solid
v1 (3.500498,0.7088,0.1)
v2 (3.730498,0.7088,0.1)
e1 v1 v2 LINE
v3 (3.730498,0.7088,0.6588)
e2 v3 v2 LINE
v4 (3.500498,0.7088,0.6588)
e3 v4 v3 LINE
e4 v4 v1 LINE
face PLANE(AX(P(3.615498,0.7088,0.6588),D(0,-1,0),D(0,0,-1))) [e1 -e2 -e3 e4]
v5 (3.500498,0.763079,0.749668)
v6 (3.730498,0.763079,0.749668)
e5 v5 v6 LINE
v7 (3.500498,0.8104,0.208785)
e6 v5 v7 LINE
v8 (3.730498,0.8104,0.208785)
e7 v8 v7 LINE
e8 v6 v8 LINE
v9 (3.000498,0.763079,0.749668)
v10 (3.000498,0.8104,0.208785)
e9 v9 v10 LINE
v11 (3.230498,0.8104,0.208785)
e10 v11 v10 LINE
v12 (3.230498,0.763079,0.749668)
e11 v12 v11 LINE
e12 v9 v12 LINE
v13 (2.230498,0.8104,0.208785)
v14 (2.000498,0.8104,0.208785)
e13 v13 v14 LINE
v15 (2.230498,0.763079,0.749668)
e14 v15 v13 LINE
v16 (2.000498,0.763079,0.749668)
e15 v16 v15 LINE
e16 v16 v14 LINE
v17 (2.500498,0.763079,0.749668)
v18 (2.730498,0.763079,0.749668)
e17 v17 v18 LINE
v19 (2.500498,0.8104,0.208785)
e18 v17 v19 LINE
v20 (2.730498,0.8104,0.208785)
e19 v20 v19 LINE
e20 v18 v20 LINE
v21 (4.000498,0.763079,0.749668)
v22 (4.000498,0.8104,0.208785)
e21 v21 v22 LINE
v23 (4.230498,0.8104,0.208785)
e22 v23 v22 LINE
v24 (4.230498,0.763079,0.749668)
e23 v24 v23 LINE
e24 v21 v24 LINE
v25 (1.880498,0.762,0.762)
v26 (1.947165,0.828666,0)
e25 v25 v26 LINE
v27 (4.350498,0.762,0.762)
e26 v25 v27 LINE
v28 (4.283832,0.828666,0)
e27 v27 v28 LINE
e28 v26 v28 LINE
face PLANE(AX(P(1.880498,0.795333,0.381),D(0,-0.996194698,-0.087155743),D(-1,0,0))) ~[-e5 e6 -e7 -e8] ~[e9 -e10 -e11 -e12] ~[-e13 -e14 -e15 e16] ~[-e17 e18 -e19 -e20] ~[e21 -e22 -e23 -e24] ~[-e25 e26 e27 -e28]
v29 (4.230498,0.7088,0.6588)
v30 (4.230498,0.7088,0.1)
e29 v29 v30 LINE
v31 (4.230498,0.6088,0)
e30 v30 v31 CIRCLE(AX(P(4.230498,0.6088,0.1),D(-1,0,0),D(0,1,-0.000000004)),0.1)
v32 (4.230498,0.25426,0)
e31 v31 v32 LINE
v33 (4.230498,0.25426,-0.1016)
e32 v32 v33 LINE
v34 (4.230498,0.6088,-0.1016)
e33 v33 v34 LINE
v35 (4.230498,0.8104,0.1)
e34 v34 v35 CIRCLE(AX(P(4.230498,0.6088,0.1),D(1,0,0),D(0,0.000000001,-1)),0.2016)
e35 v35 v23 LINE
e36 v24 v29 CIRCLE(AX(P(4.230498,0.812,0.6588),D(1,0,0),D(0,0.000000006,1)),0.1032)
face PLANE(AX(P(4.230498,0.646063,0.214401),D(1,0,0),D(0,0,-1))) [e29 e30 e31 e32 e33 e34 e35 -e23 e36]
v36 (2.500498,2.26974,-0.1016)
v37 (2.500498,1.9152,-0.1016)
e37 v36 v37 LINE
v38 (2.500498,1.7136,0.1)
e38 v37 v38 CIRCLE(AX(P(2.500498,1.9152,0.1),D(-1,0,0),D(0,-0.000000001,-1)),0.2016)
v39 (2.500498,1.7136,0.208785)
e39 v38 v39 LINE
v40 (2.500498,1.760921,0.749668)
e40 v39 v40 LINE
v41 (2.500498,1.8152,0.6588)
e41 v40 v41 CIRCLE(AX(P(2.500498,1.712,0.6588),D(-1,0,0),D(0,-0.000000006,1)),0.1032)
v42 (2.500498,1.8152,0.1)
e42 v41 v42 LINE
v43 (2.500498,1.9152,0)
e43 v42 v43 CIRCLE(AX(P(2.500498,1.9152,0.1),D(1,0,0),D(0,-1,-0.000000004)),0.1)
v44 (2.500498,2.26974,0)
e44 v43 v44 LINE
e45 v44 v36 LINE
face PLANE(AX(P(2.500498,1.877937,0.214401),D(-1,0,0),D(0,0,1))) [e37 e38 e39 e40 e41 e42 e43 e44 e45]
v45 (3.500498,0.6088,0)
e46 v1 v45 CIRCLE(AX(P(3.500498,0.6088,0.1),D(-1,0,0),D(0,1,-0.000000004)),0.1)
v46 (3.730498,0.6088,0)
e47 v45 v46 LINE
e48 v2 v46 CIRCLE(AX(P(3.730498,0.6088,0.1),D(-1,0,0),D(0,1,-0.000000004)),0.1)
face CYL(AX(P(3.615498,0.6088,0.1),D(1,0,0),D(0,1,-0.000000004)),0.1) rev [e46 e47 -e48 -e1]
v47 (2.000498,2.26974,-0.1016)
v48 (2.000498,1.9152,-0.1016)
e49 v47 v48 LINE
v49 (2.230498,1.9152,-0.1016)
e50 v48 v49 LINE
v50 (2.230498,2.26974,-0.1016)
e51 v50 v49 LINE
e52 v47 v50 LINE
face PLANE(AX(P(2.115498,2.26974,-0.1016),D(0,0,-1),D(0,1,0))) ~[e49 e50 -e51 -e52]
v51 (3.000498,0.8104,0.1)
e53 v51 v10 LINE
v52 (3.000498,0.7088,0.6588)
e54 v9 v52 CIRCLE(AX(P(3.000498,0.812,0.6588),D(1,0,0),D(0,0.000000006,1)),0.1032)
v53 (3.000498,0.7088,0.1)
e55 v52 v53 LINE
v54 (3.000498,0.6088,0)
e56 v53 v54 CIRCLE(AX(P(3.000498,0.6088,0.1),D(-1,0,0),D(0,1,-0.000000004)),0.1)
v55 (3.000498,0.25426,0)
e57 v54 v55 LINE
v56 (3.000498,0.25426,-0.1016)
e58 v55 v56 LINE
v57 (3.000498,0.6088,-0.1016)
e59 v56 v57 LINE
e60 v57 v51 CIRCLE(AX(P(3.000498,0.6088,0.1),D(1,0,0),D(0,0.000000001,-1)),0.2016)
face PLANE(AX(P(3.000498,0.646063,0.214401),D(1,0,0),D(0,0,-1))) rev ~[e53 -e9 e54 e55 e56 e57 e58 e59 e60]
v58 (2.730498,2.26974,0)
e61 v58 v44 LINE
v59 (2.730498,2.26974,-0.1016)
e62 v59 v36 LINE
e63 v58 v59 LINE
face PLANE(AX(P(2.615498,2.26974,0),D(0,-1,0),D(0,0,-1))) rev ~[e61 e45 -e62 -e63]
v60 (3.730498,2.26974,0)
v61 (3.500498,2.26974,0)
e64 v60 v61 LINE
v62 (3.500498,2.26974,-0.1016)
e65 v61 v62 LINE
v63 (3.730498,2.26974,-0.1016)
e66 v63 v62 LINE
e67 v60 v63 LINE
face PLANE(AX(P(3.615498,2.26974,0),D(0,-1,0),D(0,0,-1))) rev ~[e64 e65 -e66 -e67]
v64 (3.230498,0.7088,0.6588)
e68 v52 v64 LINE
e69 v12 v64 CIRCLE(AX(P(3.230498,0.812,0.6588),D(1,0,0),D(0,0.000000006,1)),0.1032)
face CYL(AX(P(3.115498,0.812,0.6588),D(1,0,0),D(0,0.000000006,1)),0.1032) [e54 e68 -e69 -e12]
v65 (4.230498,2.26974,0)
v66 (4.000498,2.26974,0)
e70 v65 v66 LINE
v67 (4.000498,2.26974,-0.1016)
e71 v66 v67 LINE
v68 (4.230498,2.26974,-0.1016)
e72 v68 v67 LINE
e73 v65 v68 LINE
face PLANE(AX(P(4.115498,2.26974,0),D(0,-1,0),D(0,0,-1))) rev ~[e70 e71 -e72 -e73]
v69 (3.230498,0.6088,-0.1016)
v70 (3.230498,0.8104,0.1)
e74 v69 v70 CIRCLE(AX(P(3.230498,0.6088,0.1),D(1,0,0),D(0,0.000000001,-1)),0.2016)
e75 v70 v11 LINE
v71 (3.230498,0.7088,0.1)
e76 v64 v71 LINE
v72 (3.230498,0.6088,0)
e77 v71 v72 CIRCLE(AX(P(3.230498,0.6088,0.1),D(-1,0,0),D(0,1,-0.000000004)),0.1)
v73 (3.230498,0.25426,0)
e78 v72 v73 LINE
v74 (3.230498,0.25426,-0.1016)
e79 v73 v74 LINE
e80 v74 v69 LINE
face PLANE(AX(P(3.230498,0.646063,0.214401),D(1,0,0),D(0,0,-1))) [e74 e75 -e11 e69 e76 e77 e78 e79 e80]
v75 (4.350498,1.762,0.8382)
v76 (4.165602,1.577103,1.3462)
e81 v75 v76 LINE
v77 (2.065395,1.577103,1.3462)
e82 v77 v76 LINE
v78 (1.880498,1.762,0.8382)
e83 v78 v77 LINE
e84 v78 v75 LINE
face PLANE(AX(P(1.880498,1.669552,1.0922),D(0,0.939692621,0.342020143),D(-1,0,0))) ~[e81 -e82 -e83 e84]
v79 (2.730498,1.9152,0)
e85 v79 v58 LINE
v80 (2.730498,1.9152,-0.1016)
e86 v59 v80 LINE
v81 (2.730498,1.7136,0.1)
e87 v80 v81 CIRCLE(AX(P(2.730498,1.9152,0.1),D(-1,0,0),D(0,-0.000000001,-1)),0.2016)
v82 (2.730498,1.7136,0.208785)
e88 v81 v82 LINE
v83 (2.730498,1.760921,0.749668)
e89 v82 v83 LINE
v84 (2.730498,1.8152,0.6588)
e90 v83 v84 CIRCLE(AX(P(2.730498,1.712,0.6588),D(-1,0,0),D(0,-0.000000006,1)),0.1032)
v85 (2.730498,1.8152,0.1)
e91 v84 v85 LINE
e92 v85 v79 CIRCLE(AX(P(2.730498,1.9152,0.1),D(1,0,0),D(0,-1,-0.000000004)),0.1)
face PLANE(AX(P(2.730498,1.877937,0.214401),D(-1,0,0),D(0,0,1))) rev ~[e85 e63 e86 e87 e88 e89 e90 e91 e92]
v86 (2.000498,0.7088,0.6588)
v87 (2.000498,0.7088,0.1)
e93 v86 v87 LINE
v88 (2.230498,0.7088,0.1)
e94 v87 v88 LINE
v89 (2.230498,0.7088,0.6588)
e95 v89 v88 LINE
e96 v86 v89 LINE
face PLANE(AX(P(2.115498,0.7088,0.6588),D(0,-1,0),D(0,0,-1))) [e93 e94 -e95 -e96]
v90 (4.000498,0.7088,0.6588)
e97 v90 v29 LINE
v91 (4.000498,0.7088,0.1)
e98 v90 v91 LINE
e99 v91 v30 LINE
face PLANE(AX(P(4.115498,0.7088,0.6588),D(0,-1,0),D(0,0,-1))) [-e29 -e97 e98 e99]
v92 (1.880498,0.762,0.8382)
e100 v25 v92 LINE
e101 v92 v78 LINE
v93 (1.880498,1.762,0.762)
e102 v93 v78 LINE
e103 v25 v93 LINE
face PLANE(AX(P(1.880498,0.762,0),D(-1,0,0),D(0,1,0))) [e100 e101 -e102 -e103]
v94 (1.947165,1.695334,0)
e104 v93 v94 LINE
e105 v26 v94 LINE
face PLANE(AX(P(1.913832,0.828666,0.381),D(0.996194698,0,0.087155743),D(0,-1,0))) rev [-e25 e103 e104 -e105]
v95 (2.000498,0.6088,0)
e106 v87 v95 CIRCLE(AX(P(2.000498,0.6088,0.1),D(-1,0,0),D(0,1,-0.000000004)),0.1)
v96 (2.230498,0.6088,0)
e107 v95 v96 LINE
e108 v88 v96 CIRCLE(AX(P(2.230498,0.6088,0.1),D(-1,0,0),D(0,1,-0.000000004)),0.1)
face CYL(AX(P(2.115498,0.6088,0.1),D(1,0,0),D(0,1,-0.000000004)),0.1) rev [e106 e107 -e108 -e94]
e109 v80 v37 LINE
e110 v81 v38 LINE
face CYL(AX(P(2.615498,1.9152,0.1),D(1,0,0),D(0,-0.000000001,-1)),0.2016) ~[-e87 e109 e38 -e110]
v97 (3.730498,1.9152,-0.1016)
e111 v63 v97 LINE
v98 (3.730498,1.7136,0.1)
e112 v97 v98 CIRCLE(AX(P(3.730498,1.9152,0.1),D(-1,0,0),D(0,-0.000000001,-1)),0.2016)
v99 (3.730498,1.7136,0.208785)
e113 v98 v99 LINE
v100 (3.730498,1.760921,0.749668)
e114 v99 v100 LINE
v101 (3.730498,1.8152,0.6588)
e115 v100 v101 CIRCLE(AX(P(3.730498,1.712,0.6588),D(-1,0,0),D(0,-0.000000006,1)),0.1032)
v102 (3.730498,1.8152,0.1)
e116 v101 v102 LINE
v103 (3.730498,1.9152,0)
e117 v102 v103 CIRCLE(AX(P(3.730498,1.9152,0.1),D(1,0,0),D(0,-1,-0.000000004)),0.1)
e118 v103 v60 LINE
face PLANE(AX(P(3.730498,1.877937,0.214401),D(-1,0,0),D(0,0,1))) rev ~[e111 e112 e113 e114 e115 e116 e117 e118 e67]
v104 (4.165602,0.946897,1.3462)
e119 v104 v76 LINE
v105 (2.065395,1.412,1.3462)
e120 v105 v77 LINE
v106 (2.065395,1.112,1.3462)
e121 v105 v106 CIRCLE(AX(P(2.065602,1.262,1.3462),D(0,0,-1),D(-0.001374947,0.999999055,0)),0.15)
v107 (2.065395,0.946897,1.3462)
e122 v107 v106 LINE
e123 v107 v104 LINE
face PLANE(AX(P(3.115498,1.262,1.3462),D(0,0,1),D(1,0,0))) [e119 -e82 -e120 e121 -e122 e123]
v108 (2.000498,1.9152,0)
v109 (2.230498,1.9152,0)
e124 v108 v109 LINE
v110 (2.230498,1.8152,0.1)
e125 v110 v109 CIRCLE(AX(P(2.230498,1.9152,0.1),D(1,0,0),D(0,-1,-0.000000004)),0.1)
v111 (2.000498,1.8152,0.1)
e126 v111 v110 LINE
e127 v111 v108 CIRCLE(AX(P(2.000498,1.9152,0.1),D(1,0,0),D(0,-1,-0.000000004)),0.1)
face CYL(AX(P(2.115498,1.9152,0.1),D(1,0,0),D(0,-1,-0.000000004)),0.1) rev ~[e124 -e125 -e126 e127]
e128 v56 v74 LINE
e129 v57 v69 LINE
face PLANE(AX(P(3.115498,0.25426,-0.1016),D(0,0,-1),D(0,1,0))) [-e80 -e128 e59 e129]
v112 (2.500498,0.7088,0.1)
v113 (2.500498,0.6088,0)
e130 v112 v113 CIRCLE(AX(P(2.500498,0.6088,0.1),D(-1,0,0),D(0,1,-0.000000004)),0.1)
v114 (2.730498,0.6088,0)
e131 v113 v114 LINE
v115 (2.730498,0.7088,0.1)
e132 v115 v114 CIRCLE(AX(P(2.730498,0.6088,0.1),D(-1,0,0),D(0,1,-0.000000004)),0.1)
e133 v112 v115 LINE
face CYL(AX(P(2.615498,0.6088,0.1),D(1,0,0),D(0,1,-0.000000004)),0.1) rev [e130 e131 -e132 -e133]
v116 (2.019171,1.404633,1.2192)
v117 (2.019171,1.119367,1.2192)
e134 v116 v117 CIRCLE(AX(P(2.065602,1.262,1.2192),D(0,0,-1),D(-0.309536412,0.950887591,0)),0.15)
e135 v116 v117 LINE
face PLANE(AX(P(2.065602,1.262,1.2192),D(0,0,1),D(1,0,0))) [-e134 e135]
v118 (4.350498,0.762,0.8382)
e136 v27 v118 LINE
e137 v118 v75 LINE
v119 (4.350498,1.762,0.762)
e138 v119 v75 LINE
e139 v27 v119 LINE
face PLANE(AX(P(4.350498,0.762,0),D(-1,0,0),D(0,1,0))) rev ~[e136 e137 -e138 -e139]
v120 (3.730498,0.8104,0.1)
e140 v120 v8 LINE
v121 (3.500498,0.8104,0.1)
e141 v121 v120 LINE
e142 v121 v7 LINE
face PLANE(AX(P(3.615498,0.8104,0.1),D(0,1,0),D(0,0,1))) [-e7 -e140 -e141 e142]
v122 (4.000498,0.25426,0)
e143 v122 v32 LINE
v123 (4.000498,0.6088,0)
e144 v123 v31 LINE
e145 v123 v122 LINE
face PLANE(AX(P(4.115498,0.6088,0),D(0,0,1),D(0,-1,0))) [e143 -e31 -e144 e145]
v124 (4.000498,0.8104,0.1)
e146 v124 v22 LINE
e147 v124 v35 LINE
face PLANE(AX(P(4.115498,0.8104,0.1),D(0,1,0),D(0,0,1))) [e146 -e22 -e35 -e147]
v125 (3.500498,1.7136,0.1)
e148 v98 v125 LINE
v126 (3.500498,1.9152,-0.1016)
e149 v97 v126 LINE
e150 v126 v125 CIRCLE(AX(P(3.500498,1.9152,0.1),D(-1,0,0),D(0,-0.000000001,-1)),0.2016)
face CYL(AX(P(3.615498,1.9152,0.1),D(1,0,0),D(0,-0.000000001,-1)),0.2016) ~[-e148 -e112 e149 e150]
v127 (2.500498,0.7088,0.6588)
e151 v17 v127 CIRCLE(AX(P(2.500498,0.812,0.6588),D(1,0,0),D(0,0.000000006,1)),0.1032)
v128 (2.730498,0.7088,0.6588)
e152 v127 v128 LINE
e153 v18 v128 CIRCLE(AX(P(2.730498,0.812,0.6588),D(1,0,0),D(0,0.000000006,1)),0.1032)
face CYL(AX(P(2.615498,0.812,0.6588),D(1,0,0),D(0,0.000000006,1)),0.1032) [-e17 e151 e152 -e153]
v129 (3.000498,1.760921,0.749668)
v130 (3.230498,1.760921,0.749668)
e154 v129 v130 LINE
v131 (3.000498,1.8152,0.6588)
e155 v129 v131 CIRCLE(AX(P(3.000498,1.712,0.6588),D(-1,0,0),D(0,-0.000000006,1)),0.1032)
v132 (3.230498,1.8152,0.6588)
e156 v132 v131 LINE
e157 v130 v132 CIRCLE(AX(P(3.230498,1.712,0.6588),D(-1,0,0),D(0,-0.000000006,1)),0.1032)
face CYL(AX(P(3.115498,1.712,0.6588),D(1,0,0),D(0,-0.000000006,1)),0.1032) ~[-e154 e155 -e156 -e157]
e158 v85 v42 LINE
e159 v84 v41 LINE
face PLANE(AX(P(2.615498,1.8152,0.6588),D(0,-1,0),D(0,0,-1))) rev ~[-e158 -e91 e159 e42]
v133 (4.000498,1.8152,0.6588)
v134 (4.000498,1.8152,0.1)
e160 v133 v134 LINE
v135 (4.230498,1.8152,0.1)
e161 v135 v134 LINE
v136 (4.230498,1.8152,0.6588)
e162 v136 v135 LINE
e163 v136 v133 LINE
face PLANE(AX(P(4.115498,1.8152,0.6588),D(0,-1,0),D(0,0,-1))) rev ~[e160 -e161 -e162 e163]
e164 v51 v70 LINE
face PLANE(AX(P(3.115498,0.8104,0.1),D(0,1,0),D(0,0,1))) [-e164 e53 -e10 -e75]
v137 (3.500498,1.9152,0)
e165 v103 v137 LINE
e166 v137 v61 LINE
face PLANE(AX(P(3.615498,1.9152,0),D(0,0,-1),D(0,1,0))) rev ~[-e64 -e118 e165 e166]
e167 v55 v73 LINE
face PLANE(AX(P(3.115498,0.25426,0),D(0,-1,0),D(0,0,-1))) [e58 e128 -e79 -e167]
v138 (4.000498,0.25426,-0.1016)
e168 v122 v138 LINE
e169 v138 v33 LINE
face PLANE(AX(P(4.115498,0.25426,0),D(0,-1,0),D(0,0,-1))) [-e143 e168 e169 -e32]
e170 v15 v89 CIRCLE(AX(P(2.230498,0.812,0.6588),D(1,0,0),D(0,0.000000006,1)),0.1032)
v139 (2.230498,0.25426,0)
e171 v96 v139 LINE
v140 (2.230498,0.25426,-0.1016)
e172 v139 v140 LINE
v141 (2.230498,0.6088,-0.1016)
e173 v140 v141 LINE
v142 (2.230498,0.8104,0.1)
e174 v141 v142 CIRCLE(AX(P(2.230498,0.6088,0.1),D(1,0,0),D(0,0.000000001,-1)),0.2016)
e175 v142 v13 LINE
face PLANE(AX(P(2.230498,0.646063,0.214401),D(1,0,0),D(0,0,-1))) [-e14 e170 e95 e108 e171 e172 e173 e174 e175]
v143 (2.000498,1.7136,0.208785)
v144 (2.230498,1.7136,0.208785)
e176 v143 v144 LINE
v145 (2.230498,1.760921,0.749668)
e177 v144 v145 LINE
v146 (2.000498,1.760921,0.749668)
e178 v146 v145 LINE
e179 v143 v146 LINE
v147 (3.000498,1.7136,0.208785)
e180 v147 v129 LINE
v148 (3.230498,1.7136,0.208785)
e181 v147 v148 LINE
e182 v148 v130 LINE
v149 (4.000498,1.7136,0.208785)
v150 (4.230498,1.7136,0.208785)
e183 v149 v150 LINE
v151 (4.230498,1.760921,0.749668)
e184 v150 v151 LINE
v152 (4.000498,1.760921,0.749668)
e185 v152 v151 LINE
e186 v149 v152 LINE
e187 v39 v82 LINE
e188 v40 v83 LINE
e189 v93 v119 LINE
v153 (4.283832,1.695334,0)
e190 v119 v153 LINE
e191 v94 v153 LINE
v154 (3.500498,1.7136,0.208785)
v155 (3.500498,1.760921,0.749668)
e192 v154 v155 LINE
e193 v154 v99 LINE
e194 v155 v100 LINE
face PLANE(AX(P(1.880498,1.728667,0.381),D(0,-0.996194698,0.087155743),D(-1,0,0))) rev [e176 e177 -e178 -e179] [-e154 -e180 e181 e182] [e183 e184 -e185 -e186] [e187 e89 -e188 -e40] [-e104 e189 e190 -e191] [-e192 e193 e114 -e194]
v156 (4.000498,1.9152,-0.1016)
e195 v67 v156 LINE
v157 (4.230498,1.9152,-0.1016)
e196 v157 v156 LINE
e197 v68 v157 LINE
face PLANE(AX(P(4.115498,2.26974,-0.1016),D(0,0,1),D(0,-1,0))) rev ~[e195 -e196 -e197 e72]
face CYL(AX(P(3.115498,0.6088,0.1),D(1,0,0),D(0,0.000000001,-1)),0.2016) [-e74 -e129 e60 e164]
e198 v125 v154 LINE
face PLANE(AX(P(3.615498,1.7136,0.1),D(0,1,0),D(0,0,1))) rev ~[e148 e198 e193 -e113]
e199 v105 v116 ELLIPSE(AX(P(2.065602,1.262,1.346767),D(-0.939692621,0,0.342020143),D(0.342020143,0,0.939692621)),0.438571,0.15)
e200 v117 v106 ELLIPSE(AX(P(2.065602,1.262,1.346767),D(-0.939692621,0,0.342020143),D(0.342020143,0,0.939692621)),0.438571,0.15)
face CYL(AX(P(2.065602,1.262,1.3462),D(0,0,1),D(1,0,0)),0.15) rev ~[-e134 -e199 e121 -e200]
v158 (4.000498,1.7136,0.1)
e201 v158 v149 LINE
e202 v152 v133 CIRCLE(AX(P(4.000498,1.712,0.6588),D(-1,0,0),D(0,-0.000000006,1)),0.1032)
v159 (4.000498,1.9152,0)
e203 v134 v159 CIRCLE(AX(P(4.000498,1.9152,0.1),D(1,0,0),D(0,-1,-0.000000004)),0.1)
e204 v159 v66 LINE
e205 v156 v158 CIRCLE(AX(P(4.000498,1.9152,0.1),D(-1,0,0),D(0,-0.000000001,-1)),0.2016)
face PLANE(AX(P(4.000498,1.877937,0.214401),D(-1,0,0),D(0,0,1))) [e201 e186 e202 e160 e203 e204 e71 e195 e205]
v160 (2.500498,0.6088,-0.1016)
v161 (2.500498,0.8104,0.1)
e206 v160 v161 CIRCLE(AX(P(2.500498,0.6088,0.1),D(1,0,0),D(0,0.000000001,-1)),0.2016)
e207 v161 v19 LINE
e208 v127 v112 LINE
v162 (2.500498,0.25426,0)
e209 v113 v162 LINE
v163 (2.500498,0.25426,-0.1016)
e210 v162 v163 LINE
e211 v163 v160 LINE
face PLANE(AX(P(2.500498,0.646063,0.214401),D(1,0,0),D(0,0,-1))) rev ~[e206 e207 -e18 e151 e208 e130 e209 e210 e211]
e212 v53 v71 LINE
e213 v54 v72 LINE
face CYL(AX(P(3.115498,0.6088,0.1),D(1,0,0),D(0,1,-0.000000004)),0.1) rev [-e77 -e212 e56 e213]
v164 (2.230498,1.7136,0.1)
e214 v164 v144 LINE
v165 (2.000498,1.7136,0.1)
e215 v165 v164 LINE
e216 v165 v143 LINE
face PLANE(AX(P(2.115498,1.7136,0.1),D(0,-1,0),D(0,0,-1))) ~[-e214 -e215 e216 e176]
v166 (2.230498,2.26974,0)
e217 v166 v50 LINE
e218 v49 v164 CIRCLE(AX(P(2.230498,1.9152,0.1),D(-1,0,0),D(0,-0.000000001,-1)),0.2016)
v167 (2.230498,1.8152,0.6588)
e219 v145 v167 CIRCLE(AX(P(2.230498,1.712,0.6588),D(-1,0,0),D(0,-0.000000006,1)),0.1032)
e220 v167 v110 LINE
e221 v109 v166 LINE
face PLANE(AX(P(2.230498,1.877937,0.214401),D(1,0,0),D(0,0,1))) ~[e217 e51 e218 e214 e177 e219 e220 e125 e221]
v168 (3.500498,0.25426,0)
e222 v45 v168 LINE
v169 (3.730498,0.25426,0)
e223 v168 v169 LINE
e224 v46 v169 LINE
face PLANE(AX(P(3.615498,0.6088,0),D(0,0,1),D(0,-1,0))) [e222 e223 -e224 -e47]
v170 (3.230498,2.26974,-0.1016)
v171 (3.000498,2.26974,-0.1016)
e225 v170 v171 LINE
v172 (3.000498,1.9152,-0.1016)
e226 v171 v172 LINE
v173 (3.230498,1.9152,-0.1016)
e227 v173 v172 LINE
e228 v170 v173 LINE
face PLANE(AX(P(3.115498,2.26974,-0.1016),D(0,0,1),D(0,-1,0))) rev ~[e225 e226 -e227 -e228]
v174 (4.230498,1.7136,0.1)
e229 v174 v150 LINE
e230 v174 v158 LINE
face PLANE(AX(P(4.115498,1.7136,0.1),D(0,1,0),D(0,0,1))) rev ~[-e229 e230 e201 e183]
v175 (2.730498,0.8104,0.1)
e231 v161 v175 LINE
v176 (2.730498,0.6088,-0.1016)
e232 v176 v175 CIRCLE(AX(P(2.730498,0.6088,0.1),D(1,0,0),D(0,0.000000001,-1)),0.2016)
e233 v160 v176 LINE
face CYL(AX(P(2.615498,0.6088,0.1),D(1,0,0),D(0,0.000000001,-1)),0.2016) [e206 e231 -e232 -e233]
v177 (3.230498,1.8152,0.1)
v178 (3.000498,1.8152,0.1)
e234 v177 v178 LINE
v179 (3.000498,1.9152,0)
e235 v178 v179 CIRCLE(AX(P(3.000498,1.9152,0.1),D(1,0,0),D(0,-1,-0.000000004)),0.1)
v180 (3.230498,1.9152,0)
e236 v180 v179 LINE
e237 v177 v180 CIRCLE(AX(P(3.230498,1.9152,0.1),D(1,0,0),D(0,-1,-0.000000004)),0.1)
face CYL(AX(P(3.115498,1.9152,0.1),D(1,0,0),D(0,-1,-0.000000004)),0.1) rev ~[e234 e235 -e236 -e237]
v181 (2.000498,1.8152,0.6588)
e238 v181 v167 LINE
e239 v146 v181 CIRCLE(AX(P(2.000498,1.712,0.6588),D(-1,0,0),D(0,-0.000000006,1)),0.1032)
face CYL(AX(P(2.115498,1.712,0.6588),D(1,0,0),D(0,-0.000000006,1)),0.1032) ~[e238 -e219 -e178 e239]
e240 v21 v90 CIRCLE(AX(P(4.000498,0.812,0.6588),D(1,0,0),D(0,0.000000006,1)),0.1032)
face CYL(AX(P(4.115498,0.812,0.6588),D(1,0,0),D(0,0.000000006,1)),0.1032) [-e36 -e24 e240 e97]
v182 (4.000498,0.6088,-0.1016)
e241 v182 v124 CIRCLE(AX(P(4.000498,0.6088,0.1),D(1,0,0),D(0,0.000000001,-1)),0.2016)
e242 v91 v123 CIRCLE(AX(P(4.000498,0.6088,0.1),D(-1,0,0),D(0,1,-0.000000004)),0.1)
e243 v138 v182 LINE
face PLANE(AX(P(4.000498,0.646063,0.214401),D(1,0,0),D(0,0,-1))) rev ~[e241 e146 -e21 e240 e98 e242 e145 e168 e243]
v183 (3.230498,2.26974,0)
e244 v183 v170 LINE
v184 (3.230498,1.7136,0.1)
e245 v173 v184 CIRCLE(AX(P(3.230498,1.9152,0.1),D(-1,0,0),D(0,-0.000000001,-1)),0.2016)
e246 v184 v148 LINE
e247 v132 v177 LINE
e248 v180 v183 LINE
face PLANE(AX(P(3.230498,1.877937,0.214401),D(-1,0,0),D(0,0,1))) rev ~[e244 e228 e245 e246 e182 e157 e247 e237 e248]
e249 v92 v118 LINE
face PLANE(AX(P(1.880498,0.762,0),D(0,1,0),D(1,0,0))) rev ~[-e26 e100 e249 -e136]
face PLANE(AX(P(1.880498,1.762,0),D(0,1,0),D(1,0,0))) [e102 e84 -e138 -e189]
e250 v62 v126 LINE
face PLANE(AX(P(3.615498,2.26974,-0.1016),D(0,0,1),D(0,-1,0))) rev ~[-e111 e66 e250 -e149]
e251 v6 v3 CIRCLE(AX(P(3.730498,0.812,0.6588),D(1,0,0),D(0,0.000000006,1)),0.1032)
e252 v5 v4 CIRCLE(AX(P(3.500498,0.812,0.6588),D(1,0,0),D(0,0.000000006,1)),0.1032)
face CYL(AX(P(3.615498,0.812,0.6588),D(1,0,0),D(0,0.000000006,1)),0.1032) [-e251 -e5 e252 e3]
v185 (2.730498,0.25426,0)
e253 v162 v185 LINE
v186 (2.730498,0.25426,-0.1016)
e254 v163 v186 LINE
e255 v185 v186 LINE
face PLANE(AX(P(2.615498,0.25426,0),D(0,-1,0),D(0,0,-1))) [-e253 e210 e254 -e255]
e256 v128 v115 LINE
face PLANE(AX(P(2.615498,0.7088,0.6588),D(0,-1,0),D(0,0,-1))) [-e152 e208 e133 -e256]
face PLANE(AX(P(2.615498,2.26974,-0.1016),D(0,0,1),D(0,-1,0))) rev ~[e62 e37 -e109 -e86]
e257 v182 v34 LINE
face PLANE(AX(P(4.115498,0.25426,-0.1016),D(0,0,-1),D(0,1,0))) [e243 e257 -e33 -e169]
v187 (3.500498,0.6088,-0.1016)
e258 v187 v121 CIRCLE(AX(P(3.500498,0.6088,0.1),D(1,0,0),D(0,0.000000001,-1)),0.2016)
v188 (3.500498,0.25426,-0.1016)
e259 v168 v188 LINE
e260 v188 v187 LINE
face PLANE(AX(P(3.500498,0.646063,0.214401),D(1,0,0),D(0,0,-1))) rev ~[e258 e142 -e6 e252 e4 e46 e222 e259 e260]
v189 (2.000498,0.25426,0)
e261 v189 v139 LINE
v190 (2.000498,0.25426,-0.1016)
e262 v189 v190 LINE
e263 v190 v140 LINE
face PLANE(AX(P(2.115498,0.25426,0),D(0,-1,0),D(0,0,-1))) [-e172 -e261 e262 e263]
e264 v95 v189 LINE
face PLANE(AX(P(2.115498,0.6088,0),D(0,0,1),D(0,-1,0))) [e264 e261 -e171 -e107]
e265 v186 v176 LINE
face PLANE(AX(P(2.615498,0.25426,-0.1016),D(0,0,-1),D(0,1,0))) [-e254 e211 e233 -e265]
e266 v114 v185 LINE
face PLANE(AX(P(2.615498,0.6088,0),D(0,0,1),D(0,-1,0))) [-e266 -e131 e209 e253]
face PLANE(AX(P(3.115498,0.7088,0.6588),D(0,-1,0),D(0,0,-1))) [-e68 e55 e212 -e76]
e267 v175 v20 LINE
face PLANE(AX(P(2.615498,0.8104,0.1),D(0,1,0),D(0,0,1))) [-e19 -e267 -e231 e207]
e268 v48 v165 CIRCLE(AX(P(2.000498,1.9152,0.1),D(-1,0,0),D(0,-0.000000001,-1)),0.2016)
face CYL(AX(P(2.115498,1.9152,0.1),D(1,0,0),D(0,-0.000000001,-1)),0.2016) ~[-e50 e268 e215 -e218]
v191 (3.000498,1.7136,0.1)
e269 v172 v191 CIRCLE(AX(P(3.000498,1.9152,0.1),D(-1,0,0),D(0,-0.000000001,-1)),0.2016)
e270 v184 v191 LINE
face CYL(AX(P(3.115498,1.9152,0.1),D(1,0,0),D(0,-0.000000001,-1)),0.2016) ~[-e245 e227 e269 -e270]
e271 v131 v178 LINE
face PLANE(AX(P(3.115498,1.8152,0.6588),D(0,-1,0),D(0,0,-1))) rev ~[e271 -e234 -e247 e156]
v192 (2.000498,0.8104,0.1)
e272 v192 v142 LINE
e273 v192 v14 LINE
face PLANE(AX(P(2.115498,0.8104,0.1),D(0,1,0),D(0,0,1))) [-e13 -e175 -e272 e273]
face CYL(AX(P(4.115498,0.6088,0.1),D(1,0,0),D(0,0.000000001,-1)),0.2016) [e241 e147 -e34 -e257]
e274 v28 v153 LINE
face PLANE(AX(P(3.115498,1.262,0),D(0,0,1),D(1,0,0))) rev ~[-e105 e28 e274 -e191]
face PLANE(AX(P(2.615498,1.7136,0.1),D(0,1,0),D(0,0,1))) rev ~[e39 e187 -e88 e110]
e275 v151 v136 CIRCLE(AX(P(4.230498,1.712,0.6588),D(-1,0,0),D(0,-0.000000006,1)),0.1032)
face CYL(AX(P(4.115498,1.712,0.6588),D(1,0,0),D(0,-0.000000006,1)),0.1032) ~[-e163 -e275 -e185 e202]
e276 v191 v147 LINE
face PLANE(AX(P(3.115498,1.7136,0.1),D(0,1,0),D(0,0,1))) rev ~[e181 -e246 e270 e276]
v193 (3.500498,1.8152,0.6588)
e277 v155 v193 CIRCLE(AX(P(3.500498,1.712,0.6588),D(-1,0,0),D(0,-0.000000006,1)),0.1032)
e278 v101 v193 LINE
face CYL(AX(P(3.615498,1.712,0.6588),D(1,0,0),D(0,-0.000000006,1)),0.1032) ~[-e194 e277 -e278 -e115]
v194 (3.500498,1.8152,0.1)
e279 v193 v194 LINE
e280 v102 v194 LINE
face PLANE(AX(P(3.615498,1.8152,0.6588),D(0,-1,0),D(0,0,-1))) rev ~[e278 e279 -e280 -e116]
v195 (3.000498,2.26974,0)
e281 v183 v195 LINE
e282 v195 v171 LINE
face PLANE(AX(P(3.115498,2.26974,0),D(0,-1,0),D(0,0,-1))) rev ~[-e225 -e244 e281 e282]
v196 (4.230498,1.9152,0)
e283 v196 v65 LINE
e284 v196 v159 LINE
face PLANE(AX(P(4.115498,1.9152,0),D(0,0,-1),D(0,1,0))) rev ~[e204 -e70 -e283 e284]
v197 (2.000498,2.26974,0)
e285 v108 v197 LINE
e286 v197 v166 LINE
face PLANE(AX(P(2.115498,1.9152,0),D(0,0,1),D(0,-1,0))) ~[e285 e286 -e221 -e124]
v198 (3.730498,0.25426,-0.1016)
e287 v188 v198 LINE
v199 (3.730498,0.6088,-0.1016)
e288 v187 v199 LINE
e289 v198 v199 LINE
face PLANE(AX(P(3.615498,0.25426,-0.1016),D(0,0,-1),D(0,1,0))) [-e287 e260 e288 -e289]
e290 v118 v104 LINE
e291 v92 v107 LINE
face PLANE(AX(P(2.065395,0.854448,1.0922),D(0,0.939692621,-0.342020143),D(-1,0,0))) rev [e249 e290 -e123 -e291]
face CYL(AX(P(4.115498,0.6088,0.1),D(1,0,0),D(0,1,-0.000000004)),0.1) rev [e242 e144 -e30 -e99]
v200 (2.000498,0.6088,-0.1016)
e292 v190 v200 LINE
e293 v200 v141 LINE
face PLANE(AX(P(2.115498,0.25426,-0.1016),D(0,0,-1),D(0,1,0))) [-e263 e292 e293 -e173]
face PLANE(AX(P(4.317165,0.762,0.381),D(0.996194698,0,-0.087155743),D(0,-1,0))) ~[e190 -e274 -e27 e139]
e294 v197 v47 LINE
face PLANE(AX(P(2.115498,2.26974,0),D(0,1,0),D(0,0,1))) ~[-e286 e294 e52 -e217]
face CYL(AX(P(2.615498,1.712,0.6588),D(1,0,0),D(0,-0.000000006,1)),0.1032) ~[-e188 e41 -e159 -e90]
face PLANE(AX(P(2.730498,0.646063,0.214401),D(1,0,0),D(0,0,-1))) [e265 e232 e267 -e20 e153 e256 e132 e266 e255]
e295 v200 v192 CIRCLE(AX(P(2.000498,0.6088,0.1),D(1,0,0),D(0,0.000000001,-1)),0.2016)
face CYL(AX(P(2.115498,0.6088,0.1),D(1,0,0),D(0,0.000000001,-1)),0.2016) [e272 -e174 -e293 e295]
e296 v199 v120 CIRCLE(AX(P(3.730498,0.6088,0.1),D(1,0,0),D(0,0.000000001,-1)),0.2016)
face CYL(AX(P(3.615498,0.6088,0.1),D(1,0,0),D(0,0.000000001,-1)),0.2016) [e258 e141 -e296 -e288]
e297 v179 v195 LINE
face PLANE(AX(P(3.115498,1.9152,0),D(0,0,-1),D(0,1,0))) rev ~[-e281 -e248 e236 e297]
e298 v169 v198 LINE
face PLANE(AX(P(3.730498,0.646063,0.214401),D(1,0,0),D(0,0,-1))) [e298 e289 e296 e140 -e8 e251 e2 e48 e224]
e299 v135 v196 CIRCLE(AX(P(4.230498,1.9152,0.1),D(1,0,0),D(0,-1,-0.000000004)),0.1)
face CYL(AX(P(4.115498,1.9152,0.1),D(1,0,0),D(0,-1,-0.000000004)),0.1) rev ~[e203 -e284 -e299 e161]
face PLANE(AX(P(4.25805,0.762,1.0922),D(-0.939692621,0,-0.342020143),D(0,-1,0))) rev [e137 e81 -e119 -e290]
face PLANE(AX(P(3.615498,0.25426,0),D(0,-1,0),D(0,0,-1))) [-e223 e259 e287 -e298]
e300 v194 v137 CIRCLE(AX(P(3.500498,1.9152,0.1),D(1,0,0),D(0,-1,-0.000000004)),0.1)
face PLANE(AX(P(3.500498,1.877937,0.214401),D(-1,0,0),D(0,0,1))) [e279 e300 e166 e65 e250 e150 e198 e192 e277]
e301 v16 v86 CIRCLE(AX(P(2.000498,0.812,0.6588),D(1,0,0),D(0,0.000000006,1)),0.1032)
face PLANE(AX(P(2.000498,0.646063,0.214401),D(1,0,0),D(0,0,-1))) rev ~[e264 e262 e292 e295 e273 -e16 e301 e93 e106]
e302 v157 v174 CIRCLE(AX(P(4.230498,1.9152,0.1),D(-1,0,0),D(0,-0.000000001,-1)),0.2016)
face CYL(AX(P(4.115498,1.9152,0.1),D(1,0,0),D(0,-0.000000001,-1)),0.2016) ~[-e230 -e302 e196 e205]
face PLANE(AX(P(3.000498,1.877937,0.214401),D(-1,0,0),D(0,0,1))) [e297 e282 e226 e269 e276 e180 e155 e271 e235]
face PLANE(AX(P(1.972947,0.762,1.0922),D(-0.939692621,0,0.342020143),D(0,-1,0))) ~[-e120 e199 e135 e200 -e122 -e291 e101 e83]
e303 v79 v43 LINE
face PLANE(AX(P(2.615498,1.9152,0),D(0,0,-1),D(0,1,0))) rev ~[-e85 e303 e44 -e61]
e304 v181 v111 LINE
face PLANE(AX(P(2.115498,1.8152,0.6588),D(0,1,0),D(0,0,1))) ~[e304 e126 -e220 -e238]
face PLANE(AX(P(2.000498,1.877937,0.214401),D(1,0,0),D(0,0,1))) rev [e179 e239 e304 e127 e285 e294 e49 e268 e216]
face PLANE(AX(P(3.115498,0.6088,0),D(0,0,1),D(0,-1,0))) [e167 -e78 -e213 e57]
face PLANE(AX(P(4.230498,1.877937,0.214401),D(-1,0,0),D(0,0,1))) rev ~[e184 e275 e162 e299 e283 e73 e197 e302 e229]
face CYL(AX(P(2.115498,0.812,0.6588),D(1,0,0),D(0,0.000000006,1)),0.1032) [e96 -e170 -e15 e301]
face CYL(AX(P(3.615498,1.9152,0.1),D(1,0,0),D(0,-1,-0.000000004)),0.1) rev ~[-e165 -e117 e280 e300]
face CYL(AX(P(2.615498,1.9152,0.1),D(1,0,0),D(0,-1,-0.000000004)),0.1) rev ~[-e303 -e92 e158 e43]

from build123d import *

# Parameters (mm, degrees)
SKETCH1_W                = 2.47
SKETCH1_H                = 1
BASE_EXTRUDE_DEPTH       = 1.3462
CHAMFER1_SIZE            = 0.508
CHAMFER1_SIZE2           = 0.184896879
CHAMFER1_PART_2_SIZE     = 0.508
CHAMFER1_PART_2_SIZE2    = 0.184896879
CHAMFER1_PART_3_SIZE     = 0.508
CHAMFER1_PART_3_SIZE2    = 0.184896879
CHAMFER1_PART_4_SIZE     = 0.508
CHAMFER1_PART_4_SIZE2    = 0.184896879
CHAMFER2_SIZE            = 0.762
CHAMFER2_SIZE2           = 0.066666362
CHAMFER2_PART_2_SIZE     = 0.762
CHAMFER2_PART_2_SIZE2    = 0.066666362
CHAMFER2_PART_3_SIZE     = 0.762
CHAMFER2_PART_3_SIZE2    = 0.066666362
CHAMFER2_PART_4_SIZE     = 0.762
CHAMFER2_PART_4_SIZE2    = 0.066666362
SKETCH3_R                = 0.15
CUT_EXTRUDE1_DEPTH       = 0.127
BOSS_EXTRUDE_THIN3_DEPTH = 0.115
LPATTERN1_COUNT          = 5
LPATTERN1_PITCH          = 0.5
MIRROR1_COPY_1_DEPTH     = 0.115
MIRROR1_COPY_2_DEPTH     = 0.115
MIRROR1_COPY_3_DEPTH     = 0.115
MIRROR1_COPY_4_DEPTH     = 0.115


with BuildPart() as part:
    # Sketch1 → Base-Extrude (new body)
    with BuildSketch(Plane.XY):
        with Locations((3.115498433, 1.262)):
            Rectangle(SKETCH1_W, SKETCH1_H)
    extrude(amount=BASE_EXTRUDE_DEPTH)

    # Chamfer1
    chamfer1_edges = [part.edges().sort_by_distance(p)[0] for p in [
        (4.350498433, 1.262, 1.3462),
    ]]
    chamfer1_side = [part.faces().sort_by_distance(p)[0] for p in [
        (4.350498433, 1.262, 0.6731),
    ]]
    chamfer(chamfer1_edges, length=CHAMFER1_SIZE, length2=CHAMFER1_SIZE2, reference=chamfer1_side[0])

    # Chamfer1 part 2
    chamfer1_part_2_edges = [part.edges().sort_by_distance(p)[0] for p in [
        (3.115498433, 1.762, 1.3462),
    ]]
    chamfer1_part_2_side = [part.faces().sort_by_distance(p)[0] for p in [
        (3.115498433, 1.762, 0.6731),
    ]]
    chamfer(chamfer1_part_2_edges, length=CHAMFER1_PART_2_SIZE, length2=CHAMFER1_PART_2_SIZE2, reference=chamfer1_part_2_side[0])

    # Chamfer1 part 3
    chamfer1_part_3_edges = [part.edges().sort_by_distance(p)[0] for p in [
        (1.880498433, 1.262, 1.3462),
    ]]
    chamfer1_part_3_side = [part.faces().sort_by_distance(p)[0] for p in [
        (1.880498433, 1.262, 0.6731),
    ]]
    chamfer(chamfer1_part_3_edges, length=CHAMFER1_PART_3_SIZE, length2=CHAMFER1_PART_3_SIZE2, reference=chamfer1_part_3_side[0])

    # Chamfer1 part 4
    chamfer1_part_4_edges = [part.edges().sort_by_distance(p)[0] for p in [
        (3.115498433, 0.762, 1.3462),
    ]]
    chamfer1_part_4_side = [part.faces().sort_by_distance(p)[0] for p in [
        (3.115498433, 0.762, 0.6731),
    ]]
    chamfer(chamfer1_part_4_edges, length=CHAMFER1_PART_4_SIZE, length2=CHAMFER1_PART_4_SIZE2, reference=chamfer1_part_4_side[0])

    # Chamfer2
    chamfer2_edges = [part.edges().sort_by_distance(p)[0] for p in [
        (3.115498433, 1.762, 0),
    ]]
    chamfer2_side = [part.faces().sort_by_distance(p)[0] for p in [
        (3.115498433, 1.762, 0.4191),
    ]]
    chamfer(chamfer2_edges, length=CHAMFER2_SIZE, length2=CHAMFER2_SIZE2, reference=chamfer2_side[0])

    # Chamfer2 part 2
    chamfer2_part_2_edges = [part.edges().sort_by_distance(p)[0] for p in [
        (4.350498433, 1.262, 0),
    ]]
    chamfer2_part_2_side = [part.faces().sort_by_distance(p)[0] for p in [
        (4.350498433, 1.262, 0.4191),
    ]]
    chamfer(chamfer2_part_2_edges, length=CHAMFER2_PART_2_SIZE, length2=CHAMFER2_PART_2_SIZE2, reference=chamfer2_part_2_side[0])

    # Chamfer2 part 3
    chamfer2_part_3_edges = [part.edges().sort_by_distance(p)[0] for p in [
        (3.115498433, 0.762, 0),
    ]]
    chamfer2_part_3_side = [part.faces().sort_by_distance(p)[0] for p in [
        (3.115498433, 0.762, 0.4191),
    ]]
    chamfer(chamfer2_part_3_edges, length=CHAMFER2_PART_3_SIZE, length2=CHAMFER2_PART_3_SIZE2, reference=chamfer2_part_3_side[0])

    # Chamfer2 part 4
    chamfer2_part_4_edges = [part.edges().sort_by_distance(p)[0] for p in [
        (1.880498433, 1.262, 0),
    ]]
    chamfer2_part_4_side = [part.faces().sort_by_distance(p)[0] for p in [
        (1.880498433, 1.262, 0.4191),
    ]]
    chamfer(chamfer2_part_4_edges, length=CHAMFER2_PART_4_SIZE, length2=CHAMFER2_PART_4_SIZE2, reference=chamfer2_part_4_side[0])

    # Sketch3 → Cut-Extrude1 (cut)
    with BuildSketch(Plane(origin=(0.118935742, 0.142956615, 1.3462), x_dir=(1, 0, 0), z_dir=(0, 0, 1))):
        with Locations((1.946665812, 1.119043385)):
            Circle(SKETCH3_R)
    extrude(amount=-CUT_EXTRUDE1_DEPTH, mode=Mode.SUBTRACT)

    # Sketch4 → Boss-Extrude-Thin3 (add, symmetric)
    with BuildSketch(Plane(origin=(2.115498433, 0, 0), x_dir=(0, 0, -1), z_dir=(1, 0, 0))):
        with BuildLine():
            ThreePointArc((-0.762, 0.812000071), (-0.73177342, 0.739026651), (-0.6588, 0.708800071))
            Line((-0.6588, 0.708800071), (-0.1, 0.708800071))
            ThreePointArc((-0.1, 0.708800071), (-0.029289322, 0.679510749), (0, 0.608800071))
            Line((0, 0.608800071), (0, 0.254259822))
            Line((0, 0.254259822), (0.1016, 0.254259822))
            Line((0.1016, 0.254259822), (0.1016, 0.608800071))
            ThreePointArc((0.1016, 0.608800071), (0.042552727, 0.751352798), (-0.1, 0.810400071))
            Line((-0.1, 0.810400071), (-0.6588, 0.810400071))
            ThreePointArc((-0.6588, 0.810400071), (-0.659931371, 0.8108687), (-0.6604, 0.812000071))
            Line((-0.6604, 0.812000071), (-0.762, 0.812000071))
        make_face()
    boss_extrude_thin3 = extrude(amount=BOSS_EXTRUDE_THIN3_DEPTH, both=True)

    # LPattern1: Boss-Extrude-Thin3 ×5
    with Locations(*[(i * LPATTERN1_PITCH, 0, 0) for i in range(1, LPATTERN1_COUNT)]):
        add(boss_extrude_thin3)

    # Mirror1: Boss-Extrude-Thin3 across plane
    add(boss_extrude_thin3.mirror(Plane.ZX.offset(1.262)))

    # Mirror1 copy 1 sketch → Mirror1 copy 1 (add, symmetric)
    with BuildSketch(Plane(origin=(2.615498433, 2.524, 0), x_dir=(0, 0, -1), z_dir=(1, 0, 0))):
        with BuildLine():
            ThreePointArc((-0.762, -0.812000071), (-0.73177342, -0.739026651), (-0.6588, -0.708800071))
            Line((-0.6588, -0.708800071), (-0.1, -0.708800071))
            ThreePointArc((-0.1, -0.708800071), (-0.029289322, -0.679510749), (0, -0.608800071))
            Line((0, -0.608800071), (0, -0.254259822))
            Line((0, -0.254259822), (0.1016, -0.254259822))
            Line((0.1016, -0.254259822), (0.1016, -0.608800071))
            ThreePointArc((0.1016, -0.608800071), (0.042552727, -0.751352798), (-0.1, -0.810400071))
            Line((-0.1, -0.810400071), (-0.6588, -0.810400071))
            ThreePointArc((-0.6588, -0.810400071), (-0.659931371, -0.8108687), (-0.6604, -0.812000071))
            Line((-0.6604, -0.812000071), (-0.762, -0.812000071))
        make_face()
    extrude(amount=MIRROR1_COPY_1_DEPTH, both=True)

    # Mirror1 copy 2 sketch → Mirror1 copy 2 (add, symmetric)
    with BuildSketch(Plane(origin=(3.115498433, 2.524, 0), x_dir=(0, 0, -1), z_dir=(1, 0, 0))):
        with BuildLine():
            ThreePointArc((-0.762, -0.812000071), (-0.73177342, -0.739026651), (-0.6588, -0.708800071))
            Line((-0.6588, -0.708800071), (-0.1, -0.708800071))
            ThreePointArc((-0.1, -0.708800071), (-0.029289322, -0.679510749), (0, -0.608800071))
            Line((0, -0.608800071), (0, -0.254259822))
            Line((0, -0.254259822), (0.1016, -0.254259822))
            Line((0.1016, -0.254259822), (0.1016, -0.608800071))
            ThreePointArc((0.1016, -0.608800071), (0.042552727, -0.751352798), (-0.1, -0.810400071))
            Line((-0.1, -0.810400071), (-0.6588, -0.810400071))
            ThreePointArc((-0.6588, -0.810400071), (-0.659931371, -0.8108687), (-0.6604, -0.812000071))
            Line((-0.6604, -0.812000071), (-0.762, -0.812000071))
        make_face()
    extrude(amount=MIRROR1_COPY_2_DEPTH, both=True)

    # Mirror1 copy 3 sketch → Mirror1 copy 3 (add, symmetric)
    with BuildSketch(Plane(origin=(3.615498433, 2.524, 0), x_dir=(0, 0, -1), z_dir=(1, 0, 0))):
        with BuildLine():
            ThreePointArc((-0.762, -0.812000071), (-0.73177342, -0.739026651), (-0.6588, -0.708800071))
            Line((-0.6588, -0.708800071), (-0.1, -0.708800071))
            ThreePointArc((-0.1, -0.708800071), (-0.029289322, -0.679510749), (0, -0.608800071))
            Line((0, -0.608800071), (0, -0.254259822))
            Line((0, -0.254259822), (0.1016, -0.254259822))
            Line((0.1016, -0.254259822), (0.1016, -0.608800071))
            ThreePointArc((0.1016, -0.608800071), (0.042552727, -0.751352798), (-0.1, -0.810400071))
            Line((-0.1, -0.810400071), (-0.6588, -0.810400071))
            ThreePointArc((-0.6588, -0.810400071), (-0.659931371, -0.8108687), (-0.6604, -0.812000071))
            Line((-0.6604, -0.812000071), (-0.762, -0.812000071))
        make_face()
    extrude(amount=MIRROR1_COPY_3_DEPTH, both=True)

    # Mirror1 copy 4 sketch → Mirror1 copy 4 (add, symmetric)
    with BuildSketch(Plane(origin=(4.115498433, 2.524, 0), x_dir=(0, 0, -1), z_dir=(1, 0, 0))):
        with BuildLine():
            ThreePointArc((-0.762, -0.812000071), (-0.73177342, -0.739026651), (-0.6588, -0.708800071))
            Line((-0.6588, -0.708800071), (-0.1, -0.708800071))
            ThreePointArc((-0.1, -0.708800071), (-0.029289322, -0.679510749), (0, -0.608800071))
            Line((0, -0.608800071), (0, -0.254259822))
            Line((0, -0.254259822), (0.1016, -0.254259822))
            Line((0.1016, -0.254259822), (0.1016, -0.608800071))
            ThreePointArc((0.1016, -0.608800071), (0.042552727, -0.751352798), (-0.1, -0.810400071))
            Line((-0.1, -0.810400071), (-0.6588, -0.810400071))
            ThreePointArc((-0.6588, -0.810400071), (-0.659931371, -0.8108687), (-0.6604, -0.812000071))
            Line((-0.6604, -0.812000071), (-0.762, -0.812000071))
        make_face()
    extrude(amount=MIRROR1_COPY_4_DEPTH, both=True)


solid = part.part
